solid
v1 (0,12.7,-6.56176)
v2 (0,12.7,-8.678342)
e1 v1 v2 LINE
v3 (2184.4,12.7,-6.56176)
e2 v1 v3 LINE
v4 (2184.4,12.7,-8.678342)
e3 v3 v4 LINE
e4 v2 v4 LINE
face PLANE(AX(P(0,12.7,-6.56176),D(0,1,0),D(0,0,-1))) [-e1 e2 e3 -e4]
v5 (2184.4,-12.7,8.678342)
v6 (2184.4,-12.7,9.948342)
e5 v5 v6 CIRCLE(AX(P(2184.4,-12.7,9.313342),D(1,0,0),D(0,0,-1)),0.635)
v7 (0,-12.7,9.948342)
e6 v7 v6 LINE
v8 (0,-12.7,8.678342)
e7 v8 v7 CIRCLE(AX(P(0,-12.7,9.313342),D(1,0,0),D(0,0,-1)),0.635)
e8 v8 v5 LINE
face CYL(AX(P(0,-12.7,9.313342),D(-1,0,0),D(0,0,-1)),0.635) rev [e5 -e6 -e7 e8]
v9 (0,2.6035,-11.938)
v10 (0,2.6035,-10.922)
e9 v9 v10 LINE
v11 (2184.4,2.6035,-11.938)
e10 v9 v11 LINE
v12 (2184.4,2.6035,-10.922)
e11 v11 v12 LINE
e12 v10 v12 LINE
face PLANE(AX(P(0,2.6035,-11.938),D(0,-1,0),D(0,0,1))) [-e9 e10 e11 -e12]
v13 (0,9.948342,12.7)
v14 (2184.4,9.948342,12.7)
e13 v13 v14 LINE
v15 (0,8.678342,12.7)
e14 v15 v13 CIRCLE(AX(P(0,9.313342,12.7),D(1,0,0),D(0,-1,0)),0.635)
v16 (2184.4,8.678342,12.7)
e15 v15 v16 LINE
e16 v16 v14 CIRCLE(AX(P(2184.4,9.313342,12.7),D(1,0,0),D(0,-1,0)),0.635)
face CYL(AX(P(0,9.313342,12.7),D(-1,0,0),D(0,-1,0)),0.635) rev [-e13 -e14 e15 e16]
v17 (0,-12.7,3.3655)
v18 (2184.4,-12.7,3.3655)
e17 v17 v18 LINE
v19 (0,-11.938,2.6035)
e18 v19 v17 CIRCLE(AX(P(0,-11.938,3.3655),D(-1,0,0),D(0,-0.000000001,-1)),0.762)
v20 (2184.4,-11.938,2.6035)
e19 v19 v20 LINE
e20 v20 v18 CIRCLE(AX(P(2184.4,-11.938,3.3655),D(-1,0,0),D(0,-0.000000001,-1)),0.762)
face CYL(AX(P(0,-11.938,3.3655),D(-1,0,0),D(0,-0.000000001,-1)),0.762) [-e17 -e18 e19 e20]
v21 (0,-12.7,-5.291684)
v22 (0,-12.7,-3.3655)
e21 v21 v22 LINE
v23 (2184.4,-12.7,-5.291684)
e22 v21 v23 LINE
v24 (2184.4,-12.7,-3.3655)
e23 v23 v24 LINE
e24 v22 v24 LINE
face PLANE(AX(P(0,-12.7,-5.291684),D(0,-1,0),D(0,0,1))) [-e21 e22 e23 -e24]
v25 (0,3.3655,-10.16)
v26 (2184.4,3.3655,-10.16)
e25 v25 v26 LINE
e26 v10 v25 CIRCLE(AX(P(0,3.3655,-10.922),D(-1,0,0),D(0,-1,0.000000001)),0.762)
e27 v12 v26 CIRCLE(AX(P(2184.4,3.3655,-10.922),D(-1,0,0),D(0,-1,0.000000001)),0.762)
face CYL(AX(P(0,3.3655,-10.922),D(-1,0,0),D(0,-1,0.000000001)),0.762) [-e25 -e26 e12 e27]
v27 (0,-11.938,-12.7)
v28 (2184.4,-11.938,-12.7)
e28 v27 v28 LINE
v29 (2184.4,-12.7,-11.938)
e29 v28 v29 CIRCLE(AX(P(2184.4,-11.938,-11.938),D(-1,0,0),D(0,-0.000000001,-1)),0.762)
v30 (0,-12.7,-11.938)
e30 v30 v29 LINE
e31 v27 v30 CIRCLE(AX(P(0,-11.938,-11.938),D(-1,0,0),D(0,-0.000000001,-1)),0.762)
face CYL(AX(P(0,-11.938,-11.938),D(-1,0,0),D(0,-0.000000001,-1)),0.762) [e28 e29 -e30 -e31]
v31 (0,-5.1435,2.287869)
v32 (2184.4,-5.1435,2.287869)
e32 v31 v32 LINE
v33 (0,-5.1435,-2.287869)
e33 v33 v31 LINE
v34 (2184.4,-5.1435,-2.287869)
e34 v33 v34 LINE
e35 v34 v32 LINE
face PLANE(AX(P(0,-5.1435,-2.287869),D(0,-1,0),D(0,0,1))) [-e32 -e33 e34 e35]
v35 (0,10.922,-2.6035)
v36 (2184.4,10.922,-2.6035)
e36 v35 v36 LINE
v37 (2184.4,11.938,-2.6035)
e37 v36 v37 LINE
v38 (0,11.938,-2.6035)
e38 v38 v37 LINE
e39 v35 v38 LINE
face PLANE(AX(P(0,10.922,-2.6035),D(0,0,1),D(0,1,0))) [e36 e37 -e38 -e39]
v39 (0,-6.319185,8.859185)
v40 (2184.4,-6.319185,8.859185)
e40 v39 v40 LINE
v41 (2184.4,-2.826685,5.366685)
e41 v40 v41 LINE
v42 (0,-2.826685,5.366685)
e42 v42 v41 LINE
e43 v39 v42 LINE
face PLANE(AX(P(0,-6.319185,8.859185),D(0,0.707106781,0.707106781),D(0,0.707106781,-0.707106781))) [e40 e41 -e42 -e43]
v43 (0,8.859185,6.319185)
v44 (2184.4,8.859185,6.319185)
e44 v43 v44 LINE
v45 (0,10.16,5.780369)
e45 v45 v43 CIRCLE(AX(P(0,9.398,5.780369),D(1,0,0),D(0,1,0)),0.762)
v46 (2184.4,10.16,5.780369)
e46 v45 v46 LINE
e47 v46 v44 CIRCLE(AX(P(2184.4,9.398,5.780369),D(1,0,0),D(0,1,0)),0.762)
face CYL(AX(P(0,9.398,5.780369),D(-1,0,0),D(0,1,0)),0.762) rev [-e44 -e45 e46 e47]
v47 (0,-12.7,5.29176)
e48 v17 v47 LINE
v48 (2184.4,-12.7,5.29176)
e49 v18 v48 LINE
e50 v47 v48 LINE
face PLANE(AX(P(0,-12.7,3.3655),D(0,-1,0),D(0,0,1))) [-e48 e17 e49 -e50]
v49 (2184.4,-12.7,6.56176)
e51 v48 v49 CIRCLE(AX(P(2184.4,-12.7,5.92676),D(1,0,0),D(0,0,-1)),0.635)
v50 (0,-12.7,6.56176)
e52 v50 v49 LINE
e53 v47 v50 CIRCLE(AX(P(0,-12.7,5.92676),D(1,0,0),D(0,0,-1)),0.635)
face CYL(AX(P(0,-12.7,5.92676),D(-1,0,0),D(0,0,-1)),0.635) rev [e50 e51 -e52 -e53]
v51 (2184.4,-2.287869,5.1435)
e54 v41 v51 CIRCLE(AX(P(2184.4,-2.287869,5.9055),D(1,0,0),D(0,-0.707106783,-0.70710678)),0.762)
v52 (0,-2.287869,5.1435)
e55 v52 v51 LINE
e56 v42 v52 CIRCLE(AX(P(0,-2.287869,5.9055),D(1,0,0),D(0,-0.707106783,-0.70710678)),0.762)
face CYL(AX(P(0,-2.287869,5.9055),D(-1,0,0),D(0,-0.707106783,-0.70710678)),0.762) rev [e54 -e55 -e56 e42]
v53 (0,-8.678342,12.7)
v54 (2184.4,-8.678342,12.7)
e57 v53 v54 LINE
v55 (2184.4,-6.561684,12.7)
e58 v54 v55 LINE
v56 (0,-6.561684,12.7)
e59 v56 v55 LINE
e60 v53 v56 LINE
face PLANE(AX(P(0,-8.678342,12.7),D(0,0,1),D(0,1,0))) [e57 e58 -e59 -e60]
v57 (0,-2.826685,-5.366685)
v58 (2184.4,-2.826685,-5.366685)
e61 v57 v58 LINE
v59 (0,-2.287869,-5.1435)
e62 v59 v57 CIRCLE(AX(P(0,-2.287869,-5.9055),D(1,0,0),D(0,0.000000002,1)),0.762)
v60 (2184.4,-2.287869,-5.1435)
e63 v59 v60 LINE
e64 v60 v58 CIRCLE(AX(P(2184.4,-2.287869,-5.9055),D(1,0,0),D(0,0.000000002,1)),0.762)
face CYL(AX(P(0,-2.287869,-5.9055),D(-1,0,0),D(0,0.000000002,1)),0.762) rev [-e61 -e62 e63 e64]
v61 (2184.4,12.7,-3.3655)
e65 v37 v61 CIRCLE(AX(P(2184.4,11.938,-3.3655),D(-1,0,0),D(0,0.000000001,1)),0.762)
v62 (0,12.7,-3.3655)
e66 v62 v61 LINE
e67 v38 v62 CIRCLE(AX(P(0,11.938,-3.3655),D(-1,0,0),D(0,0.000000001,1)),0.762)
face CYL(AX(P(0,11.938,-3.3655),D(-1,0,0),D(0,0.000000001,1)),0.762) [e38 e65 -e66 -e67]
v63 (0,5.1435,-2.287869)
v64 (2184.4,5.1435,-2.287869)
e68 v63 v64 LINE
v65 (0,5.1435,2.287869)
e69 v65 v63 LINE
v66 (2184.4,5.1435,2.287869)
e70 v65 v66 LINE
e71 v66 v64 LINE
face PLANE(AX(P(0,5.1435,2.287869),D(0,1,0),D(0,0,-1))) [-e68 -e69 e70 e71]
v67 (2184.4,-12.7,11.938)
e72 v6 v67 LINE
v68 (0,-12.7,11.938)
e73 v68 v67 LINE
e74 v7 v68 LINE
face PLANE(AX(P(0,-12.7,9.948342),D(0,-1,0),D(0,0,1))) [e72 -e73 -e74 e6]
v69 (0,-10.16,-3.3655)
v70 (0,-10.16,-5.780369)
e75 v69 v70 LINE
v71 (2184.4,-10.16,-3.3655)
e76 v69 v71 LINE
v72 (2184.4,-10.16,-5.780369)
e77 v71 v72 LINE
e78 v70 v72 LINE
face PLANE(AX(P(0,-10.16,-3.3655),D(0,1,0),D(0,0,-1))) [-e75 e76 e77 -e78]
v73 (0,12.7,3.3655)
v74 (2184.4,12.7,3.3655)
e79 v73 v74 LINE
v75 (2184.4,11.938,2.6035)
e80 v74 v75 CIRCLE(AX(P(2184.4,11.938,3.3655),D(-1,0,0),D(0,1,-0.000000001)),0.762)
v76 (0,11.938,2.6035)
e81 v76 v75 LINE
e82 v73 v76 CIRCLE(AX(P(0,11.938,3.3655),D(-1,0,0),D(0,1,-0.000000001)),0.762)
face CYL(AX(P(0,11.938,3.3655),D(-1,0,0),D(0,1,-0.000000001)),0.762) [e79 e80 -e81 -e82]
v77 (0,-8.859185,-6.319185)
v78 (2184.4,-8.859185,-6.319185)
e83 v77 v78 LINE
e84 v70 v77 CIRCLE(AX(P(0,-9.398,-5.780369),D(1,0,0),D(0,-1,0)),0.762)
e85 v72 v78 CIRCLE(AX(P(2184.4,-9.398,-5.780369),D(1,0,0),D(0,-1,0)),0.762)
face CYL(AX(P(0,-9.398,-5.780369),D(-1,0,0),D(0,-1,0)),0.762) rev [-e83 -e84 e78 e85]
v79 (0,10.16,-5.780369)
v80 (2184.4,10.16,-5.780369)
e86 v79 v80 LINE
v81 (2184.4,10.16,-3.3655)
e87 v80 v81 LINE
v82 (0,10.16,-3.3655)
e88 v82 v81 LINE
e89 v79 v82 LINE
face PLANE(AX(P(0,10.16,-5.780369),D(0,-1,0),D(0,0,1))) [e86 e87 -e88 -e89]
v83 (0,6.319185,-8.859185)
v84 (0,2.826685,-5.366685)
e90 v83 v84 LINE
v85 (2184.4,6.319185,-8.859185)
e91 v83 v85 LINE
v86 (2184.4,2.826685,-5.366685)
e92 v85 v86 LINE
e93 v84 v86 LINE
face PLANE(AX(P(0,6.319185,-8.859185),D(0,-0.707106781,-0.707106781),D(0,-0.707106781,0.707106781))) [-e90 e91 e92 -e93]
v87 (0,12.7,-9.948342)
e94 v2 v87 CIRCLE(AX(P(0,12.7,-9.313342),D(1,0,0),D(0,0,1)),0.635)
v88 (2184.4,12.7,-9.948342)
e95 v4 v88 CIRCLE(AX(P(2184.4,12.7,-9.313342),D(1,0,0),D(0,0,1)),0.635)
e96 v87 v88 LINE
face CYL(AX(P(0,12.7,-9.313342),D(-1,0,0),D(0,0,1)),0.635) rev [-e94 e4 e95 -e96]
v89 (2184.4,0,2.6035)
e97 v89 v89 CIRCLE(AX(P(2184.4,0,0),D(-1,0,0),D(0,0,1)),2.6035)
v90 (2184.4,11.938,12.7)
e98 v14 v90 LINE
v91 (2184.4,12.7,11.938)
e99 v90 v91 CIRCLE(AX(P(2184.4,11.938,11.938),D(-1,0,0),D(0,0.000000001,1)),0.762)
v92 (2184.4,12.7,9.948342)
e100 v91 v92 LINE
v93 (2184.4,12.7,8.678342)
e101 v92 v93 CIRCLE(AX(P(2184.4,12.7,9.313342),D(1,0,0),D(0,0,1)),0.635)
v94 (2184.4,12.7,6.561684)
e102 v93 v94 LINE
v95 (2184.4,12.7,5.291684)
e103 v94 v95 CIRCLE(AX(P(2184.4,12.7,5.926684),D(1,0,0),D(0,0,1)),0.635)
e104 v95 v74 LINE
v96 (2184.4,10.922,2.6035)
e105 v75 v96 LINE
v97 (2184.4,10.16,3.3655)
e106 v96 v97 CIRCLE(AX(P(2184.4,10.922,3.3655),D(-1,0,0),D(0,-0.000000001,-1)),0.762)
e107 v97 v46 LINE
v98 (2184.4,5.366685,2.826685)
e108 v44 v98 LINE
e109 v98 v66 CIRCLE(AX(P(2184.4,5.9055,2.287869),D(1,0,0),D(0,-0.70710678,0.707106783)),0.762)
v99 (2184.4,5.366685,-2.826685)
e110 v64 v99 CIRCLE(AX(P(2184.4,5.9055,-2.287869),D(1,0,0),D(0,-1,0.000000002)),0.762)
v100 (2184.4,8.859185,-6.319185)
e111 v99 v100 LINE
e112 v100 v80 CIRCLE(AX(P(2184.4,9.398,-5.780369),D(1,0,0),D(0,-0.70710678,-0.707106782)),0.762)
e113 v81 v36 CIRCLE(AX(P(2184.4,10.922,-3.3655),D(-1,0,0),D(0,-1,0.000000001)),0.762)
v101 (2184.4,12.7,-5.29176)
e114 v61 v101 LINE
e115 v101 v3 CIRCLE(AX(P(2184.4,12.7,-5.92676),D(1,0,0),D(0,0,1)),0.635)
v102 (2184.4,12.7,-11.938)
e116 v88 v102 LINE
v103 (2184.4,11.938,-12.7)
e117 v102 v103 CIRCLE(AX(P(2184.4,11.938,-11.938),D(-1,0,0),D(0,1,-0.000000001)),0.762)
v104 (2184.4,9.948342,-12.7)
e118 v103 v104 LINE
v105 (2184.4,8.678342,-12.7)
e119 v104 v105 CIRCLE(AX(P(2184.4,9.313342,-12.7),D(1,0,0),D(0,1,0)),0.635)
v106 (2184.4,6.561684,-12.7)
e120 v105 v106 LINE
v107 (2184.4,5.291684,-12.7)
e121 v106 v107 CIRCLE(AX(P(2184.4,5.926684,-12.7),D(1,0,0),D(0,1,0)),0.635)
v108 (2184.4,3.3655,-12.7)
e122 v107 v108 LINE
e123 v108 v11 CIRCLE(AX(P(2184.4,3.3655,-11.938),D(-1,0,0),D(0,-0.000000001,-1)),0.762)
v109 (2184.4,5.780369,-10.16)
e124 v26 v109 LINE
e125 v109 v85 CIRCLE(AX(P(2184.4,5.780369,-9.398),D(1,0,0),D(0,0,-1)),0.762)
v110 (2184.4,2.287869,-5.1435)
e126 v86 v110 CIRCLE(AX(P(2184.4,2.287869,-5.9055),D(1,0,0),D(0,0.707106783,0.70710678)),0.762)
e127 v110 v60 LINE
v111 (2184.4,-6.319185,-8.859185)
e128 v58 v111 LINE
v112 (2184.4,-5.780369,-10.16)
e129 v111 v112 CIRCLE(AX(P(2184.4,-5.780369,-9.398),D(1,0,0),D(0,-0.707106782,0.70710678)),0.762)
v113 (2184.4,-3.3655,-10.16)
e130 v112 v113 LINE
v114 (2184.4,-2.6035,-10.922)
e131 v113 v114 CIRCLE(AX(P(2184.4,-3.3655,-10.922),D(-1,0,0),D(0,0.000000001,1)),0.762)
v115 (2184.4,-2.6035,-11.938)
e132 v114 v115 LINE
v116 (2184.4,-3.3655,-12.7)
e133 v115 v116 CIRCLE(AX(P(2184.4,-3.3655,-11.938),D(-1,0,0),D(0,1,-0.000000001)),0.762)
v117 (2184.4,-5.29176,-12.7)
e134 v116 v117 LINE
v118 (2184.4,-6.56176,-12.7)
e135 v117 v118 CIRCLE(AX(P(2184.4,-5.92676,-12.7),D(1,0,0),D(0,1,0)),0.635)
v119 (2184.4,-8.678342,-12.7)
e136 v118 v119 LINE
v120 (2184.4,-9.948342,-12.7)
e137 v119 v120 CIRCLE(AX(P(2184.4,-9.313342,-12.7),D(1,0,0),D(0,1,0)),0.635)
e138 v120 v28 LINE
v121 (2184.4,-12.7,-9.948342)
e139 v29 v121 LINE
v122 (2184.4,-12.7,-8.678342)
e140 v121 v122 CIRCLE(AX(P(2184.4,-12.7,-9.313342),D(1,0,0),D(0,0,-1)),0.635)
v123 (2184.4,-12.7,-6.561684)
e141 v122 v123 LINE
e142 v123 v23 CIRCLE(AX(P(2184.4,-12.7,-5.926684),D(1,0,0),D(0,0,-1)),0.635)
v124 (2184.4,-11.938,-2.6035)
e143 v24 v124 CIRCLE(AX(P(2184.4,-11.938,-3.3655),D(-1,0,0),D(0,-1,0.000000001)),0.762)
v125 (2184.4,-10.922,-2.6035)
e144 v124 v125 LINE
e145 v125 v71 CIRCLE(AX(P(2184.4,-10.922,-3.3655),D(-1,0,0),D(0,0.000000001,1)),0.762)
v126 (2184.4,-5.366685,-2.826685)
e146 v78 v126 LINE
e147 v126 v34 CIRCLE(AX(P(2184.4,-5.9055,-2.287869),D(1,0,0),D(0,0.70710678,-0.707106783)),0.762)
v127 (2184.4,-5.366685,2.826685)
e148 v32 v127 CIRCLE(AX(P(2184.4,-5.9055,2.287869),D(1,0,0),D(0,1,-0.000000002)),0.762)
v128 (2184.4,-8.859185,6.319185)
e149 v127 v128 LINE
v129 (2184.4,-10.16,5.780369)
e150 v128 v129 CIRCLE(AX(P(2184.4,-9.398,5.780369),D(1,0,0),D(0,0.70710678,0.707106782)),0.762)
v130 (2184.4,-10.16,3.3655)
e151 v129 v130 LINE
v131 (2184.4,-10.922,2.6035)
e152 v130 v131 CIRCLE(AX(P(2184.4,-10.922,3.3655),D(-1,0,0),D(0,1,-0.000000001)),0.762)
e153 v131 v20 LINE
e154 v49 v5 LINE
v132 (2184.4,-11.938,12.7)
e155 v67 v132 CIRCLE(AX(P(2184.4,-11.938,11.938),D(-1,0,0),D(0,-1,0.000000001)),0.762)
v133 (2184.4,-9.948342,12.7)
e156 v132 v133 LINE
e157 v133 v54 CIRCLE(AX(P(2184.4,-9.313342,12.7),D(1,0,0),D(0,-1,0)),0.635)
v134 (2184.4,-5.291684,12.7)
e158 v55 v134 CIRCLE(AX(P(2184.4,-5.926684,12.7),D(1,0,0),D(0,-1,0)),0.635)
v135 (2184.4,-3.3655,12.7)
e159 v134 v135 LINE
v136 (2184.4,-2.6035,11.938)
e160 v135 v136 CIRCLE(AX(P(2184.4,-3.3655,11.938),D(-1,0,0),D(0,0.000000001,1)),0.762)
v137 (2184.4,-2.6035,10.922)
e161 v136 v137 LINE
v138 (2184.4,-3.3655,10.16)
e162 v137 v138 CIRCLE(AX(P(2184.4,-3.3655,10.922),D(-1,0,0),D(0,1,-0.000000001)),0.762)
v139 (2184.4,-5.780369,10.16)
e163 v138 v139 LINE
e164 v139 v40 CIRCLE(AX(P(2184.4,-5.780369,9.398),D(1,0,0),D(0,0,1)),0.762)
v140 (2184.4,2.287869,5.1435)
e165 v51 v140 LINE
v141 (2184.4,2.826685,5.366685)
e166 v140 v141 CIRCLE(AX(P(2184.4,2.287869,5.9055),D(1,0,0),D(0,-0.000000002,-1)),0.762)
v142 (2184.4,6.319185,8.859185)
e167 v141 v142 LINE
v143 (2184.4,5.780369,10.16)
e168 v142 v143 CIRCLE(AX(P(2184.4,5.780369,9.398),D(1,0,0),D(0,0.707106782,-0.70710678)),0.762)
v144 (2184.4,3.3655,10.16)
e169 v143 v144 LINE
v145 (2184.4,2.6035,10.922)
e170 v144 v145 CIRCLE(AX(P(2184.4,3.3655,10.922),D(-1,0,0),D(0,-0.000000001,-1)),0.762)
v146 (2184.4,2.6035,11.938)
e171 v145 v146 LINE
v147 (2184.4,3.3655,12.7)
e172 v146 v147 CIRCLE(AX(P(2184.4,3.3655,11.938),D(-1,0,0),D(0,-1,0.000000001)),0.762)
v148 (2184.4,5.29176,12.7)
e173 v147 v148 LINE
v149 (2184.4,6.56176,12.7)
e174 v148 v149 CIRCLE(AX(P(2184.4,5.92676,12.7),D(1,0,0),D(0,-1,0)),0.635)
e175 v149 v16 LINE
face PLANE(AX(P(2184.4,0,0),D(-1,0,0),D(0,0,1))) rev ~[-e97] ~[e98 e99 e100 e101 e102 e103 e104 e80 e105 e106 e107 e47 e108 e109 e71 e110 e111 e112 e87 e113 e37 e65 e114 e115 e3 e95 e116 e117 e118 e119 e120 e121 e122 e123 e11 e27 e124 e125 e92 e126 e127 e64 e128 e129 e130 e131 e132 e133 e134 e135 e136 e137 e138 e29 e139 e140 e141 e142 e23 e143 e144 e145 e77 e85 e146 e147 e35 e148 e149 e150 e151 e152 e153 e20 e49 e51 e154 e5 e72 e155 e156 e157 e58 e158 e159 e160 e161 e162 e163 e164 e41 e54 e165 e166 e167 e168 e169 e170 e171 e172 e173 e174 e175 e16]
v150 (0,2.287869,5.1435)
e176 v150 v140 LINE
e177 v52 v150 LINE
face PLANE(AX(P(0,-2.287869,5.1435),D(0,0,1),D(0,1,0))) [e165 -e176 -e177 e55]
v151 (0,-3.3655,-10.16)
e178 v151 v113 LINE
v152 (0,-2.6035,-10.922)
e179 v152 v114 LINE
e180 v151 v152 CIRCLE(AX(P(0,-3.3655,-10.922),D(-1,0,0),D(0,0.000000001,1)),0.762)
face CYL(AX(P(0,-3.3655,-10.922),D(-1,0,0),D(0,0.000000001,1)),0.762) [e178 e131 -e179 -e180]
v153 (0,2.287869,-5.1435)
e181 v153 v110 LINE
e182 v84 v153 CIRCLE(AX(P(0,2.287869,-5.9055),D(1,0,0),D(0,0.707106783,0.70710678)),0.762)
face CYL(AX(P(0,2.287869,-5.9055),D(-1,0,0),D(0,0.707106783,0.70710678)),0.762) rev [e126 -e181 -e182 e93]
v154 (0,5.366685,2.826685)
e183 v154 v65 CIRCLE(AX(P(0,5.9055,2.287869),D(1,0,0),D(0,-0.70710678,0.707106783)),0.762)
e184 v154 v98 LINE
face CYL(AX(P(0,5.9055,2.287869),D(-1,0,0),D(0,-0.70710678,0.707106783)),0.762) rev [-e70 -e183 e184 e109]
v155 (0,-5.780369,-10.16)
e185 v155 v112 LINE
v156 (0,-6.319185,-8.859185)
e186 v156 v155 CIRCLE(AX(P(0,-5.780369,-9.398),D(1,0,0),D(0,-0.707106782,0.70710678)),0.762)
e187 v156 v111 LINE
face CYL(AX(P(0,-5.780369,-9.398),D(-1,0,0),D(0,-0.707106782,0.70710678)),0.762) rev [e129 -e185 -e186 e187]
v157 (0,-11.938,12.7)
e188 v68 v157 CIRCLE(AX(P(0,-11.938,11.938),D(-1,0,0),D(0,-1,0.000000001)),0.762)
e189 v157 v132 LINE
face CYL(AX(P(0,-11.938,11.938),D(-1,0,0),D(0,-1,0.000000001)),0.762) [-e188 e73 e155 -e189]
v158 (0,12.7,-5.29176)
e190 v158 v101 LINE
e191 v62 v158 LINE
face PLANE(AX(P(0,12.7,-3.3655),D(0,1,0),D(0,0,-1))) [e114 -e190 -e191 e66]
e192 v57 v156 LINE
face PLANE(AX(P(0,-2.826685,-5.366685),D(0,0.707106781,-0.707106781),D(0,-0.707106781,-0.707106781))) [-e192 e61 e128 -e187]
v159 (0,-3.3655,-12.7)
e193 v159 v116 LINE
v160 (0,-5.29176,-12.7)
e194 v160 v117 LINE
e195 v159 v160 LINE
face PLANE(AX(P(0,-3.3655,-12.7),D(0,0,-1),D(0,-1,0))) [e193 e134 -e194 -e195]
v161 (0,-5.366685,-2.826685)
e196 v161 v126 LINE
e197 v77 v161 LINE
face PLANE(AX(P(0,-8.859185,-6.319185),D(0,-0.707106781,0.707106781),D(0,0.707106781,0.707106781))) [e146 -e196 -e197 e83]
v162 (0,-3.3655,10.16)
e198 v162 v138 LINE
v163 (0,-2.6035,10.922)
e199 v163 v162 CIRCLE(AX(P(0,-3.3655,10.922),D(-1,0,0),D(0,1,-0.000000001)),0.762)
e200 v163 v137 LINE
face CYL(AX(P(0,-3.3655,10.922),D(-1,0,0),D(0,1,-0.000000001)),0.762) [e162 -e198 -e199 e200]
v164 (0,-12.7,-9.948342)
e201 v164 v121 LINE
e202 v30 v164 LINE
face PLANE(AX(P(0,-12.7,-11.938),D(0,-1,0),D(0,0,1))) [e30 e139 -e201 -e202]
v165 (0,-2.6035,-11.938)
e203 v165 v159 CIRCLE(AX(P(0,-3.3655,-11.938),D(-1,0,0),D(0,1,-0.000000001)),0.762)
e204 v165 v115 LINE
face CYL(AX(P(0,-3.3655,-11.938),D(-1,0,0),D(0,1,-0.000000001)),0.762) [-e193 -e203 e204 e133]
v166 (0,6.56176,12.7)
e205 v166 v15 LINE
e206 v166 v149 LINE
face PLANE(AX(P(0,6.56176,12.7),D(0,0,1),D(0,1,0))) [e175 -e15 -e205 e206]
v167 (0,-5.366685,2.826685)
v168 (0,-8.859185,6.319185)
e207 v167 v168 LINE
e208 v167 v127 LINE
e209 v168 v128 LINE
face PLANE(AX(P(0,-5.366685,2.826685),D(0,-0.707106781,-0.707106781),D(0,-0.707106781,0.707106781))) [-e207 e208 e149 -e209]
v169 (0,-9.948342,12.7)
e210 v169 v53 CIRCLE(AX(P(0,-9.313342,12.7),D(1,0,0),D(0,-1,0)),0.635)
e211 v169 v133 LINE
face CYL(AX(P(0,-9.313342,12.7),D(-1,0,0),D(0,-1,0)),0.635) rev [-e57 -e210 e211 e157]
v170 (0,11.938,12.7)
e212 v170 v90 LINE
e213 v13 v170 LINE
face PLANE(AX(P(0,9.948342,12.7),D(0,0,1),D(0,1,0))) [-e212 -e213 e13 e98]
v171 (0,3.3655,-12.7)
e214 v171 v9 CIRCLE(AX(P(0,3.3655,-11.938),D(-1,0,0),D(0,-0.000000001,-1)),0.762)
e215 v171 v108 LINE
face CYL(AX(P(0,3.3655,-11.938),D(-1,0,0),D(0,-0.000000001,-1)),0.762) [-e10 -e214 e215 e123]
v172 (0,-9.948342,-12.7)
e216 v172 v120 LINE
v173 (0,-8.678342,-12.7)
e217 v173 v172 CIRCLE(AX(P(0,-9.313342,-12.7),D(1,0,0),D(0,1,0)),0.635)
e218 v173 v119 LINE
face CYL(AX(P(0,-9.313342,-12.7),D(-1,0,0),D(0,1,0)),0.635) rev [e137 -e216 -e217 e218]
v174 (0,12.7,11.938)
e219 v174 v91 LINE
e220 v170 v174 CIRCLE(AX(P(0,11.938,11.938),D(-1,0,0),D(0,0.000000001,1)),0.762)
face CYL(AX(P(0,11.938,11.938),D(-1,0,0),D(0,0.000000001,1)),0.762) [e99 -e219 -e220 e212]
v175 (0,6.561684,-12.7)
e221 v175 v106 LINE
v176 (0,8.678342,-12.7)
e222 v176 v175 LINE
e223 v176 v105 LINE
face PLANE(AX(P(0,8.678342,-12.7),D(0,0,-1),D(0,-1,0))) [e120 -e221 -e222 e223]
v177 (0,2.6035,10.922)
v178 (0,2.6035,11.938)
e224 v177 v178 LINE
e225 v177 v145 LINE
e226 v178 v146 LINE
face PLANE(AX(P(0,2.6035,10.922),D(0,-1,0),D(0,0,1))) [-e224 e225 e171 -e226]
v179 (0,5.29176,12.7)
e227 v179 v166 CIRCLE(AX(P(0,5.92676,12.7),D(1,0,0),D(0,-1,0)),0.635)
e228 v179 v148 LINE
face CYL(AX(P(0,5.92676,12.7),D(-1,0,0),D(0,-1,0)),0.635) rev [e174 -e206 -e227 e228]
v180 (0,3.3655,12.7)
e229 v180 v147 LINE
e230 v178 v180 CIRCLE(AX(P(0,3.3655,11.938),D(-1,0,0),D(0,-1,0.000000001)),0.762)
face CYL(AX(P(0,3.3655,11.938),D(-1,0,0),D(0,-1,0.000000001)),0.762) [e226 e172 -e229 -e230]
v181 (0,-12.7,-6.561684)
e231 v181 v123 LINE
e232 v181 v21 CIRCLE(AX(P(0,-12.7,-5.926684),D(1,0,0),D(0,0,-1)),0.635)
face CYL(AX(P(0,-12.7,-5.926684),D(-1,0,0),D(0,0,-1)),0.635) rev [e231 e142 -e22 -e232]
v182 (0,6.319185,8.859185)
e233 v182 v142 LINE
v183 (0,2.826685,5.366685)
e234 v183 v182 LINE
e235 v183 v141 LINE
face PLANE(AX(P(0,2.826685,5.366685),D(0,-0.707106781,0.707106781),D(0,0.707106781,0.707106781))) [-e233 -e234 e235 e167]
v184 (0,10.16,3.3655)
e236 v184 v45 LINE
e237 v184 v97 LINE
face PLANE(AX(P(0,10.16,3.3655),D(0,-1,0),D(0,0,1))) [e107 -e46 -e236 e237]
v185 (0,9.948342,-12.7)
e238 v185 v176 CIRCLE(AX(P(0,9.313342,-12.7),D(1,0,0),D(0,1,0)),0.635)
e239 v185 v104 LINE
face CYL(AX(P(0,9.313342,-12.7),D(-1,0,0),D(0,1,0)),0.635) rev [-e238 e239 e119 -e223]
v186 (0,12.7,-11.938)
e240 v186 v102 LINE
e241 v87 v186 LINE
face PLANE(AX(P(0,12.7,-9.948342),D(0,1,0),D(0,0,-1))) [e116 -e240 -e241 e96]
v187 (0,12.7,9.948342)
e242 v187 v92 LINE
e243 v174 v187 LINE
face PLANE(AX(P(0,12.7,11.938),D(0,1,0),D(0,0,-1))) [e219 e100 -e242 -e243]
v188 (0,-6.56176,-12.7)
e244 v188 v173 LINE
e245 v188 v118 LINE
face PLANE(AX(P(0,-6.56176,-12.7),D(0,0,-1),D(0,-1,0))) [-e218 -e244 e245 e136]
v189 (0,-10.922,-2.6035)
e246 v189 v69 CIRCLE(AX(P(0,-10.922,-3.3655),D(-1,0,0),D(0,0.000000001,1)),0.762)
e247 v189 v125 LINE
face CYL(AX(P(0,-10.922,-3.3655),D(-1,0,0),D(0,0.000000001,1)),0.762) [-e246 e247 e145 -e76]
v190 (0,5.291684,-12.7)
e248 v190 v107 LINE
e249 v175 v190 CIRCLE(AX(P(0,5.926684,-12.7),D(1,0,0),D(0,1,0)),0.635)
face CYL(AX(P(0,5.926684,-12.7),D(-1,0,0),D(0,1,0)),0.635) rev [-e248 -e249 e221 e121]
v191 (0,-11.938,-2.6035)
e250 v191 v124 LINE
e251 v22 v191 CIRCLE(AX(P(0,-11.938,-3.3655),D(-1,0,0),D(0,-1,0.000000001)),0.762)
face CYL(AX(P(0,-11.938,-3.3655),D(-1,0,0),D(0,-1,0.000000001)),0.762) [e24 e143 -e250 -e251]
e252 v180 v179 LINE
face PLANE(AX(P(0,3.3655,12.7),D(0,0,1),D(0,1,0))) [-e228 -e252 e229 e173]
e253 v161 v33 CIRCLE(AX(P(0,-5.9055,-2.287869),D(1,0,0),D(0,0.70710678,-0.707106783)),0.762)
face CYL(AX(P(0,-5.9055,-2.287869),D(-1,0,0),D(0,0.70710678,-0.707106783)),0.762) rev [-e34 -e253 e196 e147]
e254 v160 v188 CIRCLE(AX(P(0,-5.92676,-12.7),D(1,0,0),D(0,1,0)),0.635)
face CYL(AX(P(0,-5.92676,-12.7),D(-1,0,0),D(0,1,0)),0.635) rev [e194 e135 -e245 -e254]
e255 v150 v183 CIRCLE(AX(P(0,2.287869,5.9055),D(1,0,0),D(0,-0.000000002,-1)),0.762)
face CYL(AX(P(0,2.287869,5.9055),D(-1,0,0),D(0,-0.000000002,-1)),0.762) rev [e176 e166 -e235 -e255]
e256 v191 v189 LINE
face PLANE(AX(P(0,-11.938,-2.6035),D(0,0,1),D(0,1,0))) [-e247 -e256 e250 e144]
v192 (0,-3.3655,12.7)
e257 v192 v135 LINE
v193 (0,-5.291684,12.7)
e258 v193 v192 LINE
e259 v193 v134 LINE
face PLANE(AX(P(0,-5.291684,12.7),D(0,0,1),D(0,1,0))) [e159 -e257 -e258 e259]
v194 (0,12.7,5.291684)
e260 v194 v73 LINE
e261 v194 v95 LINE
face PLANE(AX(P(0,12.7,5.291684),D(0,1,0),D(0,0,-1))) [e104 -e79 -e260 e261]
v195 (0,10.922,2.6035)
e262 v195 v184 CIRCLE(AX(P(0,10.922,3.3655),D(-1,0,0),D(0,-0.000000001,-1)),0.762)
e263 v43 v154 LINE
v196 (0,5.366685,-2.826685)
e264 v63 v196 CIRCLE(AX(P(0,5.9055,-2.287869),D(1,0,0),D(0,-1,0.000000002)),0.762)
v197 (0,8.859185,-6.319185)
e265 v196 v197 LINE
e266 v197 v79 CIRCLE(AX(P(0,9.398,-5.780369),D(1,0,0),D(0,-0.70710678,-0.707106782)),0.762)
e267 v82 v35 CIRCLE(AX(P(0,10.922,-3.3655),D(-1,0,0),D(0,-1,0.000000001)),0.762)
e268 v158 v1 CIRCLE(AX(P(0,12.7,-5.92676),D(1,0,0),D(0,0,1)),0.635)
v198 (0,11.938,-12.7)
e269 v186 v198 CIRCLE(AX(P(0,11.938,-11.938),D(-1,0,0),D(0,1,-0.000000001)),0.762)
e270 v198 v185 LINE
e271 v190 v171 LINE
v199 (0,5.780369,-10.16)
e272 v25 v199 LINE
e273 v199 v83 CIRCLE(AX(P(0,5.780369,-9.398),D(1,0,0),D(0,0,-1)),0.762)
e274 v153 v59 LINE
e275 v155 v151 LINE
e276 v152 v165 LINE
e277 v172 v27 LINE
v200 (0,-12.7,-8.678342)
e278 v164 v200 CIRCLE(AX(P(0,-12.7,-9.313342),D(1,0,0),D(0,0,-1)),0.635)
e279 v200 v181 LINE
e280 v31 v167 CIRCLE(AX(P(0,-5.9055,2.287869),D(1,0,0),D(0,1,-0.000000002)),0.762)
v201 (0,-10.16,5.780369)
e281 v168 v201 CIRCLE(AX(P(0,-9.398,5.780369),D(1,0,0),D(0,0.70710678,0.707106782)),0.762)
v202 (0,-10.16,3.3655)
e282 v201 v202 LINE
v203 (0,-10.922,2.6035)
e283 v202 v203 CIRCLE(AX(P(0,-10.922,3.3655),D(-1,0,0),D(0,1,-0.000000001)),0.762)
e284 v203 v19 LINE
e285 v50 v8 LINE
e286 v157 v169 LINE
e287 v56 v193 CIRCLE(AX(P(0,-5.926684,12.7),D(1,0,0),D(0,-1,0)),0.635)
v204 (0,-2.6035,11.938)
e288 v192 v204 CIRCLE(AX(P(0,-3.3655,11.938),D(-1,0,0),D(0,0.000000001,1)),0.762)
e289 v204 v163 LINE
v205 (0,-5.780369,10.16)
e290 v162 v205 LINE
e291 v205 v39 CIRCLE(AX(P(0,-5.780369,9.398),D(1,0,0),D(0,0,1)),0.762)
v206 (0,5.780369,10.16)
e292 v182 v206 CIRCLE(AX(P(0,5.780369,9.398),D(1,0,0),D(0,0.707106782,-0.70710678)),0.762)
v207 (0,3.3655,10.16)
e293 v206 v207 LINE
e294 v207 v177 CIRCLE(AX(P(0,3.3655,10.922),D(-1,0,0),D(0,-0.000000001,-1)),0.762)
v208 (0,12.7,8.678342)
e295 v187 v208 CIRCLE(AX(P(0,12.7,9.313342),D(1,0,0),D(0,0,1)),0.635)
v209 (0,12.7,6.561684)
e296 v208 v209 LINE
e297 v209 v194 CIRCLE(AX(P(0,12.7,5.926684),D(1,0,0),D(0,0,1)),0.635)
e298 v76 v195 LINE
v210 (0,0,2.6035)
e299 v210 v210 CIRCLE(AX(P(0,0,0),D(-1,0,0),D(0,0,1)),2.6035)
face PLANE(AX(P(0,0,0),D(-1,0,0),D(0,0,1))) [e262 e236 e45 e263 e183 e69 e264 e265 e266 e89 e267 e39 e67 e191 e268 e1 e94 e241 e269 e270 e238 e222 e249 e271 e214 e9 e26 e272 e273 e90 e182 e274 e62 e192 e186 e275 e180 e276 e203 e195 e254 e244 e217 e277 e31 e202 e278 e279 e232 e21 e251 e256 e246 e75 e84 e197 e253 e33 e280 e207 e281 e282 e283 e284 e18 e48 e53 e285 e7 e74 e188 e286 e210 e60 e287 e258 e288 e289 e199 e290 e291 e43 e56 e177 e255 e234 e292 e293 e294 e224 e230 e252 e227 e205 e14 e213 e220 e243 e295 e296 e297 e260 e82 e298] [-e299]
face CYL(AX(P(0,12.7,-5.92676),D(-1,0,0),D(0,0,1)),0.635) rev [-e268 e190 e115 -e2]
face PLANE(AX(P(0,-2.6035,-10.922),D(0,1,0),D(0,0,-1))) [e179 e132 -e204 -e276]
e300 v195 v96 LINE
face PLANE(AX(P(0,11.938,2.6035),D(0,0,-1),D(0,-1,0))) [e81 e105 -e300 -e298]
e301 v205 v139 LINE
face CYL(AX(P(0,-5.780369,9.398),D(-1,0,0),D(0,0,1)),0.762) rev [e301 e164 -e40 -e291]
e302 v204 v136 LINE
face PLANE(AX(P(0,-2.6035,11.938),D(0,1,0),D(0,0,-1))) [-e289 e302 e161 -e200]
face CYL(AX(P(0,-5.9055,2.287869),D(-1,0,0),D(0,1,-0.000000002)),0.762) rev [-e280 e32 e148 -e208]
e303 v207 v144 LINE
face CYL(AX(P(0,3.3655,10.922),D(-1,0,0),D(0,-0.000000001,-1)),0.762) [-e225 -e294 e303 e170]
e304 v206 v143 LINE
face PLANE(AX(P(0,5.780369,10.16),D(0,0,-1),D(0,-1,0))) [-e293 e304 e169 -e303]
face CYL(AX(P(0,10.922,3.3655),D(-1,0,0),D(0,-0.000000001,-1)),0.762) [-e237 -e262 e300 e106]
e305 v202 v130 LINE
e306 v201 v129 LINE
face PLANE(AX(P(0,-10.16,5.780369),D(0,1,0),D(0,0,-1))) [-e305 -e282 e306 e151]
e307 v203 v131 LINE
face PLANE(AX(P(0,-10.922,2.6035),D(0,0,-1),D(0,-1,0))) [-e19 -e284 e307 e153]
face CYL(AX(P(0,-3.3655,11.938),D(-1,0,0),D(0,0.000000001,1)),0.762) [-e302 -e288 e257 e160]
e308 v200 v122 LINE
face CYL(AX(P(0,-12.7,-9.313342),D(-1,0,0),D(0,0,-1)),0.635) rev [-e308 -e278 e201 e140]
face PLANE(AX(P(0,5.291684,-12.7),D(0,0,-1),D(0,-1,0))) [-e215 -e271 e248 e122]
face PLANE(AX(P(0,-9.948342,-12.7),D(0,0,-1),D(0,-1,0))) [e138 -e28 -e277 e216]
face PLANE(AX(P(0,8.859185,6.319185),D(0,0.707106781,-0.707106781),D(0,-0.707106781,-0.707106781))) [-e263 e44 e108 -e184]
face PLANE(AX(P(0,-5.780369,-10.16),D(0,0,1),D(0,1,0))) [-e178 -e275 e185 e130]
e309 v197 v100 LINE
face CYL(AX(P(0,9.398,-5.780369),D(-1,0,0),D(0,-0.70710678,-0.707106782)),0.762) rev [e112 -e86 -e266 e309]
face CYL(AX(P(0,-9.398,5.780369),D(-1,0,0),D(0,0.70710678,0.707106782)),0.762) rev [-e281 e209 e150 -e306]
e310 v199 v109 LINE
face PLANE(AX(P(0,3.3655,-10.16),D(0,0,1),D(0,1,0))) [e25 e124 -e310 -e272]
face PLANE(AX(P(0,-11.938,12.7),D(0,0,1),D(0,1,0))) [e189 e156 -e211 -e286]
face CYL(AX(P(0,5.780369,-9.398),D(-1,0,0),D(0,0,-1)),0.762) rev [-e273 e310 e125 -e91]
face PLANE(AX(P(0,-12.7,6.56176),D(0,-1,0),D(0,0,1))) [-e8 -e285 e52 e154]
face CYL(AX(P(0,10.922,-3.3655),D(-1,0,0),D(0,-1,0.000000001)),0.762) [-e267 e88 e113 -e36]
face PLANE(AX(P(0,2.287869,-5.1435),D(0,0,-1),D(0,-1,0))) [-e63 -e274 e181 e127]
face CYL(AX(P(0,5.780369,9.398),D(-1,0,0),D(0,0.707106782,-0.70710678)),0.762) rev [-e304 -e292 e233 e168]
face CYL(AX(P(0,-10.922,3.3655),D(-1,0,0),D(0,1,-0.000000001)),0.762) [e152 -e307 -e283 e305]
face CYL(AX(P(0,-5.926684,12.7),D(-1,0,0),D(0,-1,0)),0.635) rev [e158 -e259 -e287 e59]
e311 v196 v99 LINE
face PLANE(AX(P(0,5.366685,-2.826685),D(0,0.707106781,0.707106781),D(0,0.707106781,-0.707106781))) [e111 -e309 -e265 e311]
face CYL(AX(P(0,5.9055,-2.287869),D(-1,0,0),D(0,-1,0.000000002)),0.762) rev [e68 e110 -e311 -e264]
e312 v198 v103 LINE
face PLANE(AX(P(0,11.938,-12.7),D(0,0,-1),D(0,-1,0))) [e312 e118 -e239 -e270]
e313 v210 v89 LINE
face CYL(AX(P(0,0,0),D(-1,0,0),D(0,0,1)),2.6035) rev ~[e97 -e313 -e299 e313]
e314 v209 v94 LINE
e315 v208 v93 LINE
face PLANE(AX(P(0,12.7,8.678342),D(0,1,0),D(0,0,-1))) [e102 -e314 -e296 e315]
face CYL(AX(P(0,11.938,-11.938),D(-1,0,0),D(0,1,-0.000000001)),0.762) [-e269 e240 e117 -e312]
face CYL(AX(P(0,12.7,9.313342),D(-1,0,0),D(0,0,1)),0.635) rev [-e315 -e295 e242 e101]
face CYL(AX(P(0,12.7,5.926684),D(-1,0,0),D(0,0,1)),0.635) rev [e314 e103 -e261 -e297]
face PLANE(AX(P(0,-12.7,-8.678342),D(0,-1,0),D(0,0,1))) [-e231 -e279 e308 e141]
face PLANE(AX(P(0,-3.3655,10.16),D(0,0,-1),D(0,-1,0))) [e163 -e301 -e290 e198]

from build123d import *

# Parameters (mm, degrees)
BOSS_EXTRUDE1_DEPTH = 2184.4
SKETCH2_R           = 2.6035
CUT_EXTRUDE1_DEPTH  = 2184.4


with BuildPart() as part:
    # Sketch1 → Boss-Extrude1 (new body)
    with BuildSketch(Plane(origin=(0, 0, 0), x_dir=(0, 0, -1), z_dir=(1, 0, 0))):
        with BuildLine():
            Line((-2.6035, 11.938), (-2.6035, 10.922))
            ThreePointArc((-2.6035, 10.922), (-2.826684633, 10.383184633), (-3.3655, 10.16))
            Line((-3.3655, 10.16), (-5.780369265, 10.16))
            ThreePointArc((-5.780369265, 10.16), (-6.484365469, 9.689604775), (-6.319184633, 8.859184633))
            Line((-6.319184633, 8.859184633), (-2.826684633, 5.366684633))
            ThreePointArc((-2.826684633, 5.366684633), (-2.579474041, 5.201503796), (-2.287869265, 5.1435))
            Line((-2.287869265, 5.1435), (2.287869265, 5.1435))
            ThreePointArc((2.287869265, 5.1435), (2.579474041, 5.201503796), (2.826684633, 5.366684633))
            Line((2.826684633, 5.366684633), (6.319184633, 8.859184633))
            ThreePointArc((6.319184633, 8.859184633), (6.484365469, 9.689604775), (5.780369265, 10.16))
            Line((5.780369265, 10.16), (3.3655, 10.16))
            ThreePointArc((3.3655, 10.16), (2.826684633, 10.383184633), (2.6035, 10.922))
            Line((2.6035, 10.922), (2.6035, 11.938))
            ThreePointArc((2.6035, 11.938), (2.826684633, 12.476815367), (3.3655, 12.7))
            Line((3.3655, 12.7), (5.2917598, 12.7))
            ThreePointArc((5.2917598, 12.7), (5.9267598, 12.065), (6.5617598, 12.7))
            Line((6.5617598, 12.7), (8.6783418, 12.7))
            ThreePointArc((8.6783418, 12.7), (9.3133418, 12.065), (9.9483418, 12.7))
            Line((9.9483418, 12.7), (11.938, 12.7))
            ThreePointArc((11.938, 12.7), (12.476815367, 12.476815367), (12.7, 11.938))
            Line((12.7, 11.938), (12.7, 9.9483418))
            ThreePointArc((12.7, 9.9483418), (12.065, 9.3133418), (12.7, 8.6783418))
            Line((12.7, 8.6783418), (12.7, 6.5616836))
            ThreePointArc((12.7, 6.5616836), (12.065, 5.9266836), (12.7, 5.2916836))
            Line((12.7, 5.2916836), (12.7, 3.3655))
            ThreePointArc((12.7, 3.3655), (12.476815367, 2.826684633), (11.938, 2.6035))
            Line((11.938, 2.6035), (10.922, 2.6035))
            ThreePointArc((10.922, 2.6035), (10.383184633, 2.826684633), (10.16, 3.3655))
            Line((10.16, 3.3655), (10.16, 5.780369265))
            ThreePointArc((10.16, 5.780369265), (9.689604775, 6.484365469), (8.859184633, 6.319184633))
            Line((8.859184633, 6.319184633), (5.366684633, 2.826684633))
            ThreePointArc((5.366684633, 2.826684633), (5.201503796, 2.579474041), (5.1435, 2.287869265))
            Line((5.1435, 2.287869265), (5.1435, -2.287869265))
            ThreePointArc((5.1435, -2.287869265), (5.201503796, -2.579474041), (5.366684633, -2.826684633))
            Line((5.366684633, -2.826684633), (8.859184633, -6.319184633))
            ThreePointArc((8.859184633, -6.319184633), (9.689604775, -6.484365469), (10.16, -5.780369265))
            Line((10.16, -5.780369265), (10.16, -3.3655))
            ThreePointArc((10.16, -3.3655), (10.383184633, -2.826684633), (10.922, -2.6035))
            Line((10.922, -2.6035), (11.938, -2.6035))
            ThreePointArc((11.938, -2.6035), (12.476815367, -2.826684633), (12.7, -3.3655))
            Line((12.7, -3.3655), (12.7, -5.2917598))
            ThreePointArc((12.7, -5.2917598), (12.065, -5.9267598), (12.7, -6.5617598))
            Line((12.7, -6.5617598), (12.7, -8.6783418))
            ThreePointArc((12.7, -8.6783418), (12.065, -9.3133418), (12.7, -9.9483418))
            Line((12.7, -9.9483418), (12.7, -11.938))
            ThreePointArc((12.7, -11.938), (12.476815367, -12.476815367), (11.938, -12.7))
            Line((11.938, -12.7), (9.9483418, -12.7))
            ThreePointArc((9.9483418, -12.7), (9.3133418, -12.065), (8.6783418, -12.7))
            Line((8.6783418, -12.7), (6.5616836, -12.7))
            ThreePointArc((6.5616836, -12.7), (5.9266836, -12.065), (5.2916836, -12.7))
            Line((5.2916836, -12.7), (3.3655, -12.7))
            ThreePointArc((3.3655, -12.7), (2.826684633, -12.476815367), (2.6035, -11.938))
            Line((2.6035, -11.938), (2.6035, -10.922))
            ThreePointArc((2.6035, -10.922), (2.826684633, -10.383184633), (3.3655, -10.16))
            Line((3.3655, -10.16), (5.780369265, -10.16))
            ThreePointArc((5.780369265, -10.16), (6.484365469, -9.689604775), (6.319184633, -8.859184633))
            Line((6.319184633, -8.859184633), (2.826684633, -5.366684633))
            ThreePointArc((2.826684633, -5.366684633), (2.579474041, -5.201503796), (2.287869265, -5.1435))
            Line((2.287869265, -5.1435), (-2.287869265, -5.1435))
            ThreePointArc((-2.287869265, -5.1435), (-2.579474041, -5.201503796), (-2.826684633, -5.366684633))
            Line((-2.826684633, -5.366684633), (-6.319184633, -8.859184633))
            ThreePointArc((-6.319184633, -8.859184633), (-6.484365469, -9.689604775), (-5.780369265, -10.16))
            Line((-5.780369265, -10.16), (-3.3655, -10.16))
            ThreePointArc((-3.3655, -10.16), (-2.826684633, -10.383184633), (-2.6035, -10.922))
            Line((-2.6035, -10.922), (-2.6035, -11.938))
            ThreePointArc((-2.6035, -11.938), (-2.826684633, -12.476815367), (-3.3655, -12.7))
            Line((-3.3655, -12.7), (-5.2917598, -12.7))
            ThreePointArc((-5.2917598, -12.7), (-5.9267598, -12.065), (-6.5617598, -12.7))
            Line((-6.5617598, -12.7), (-8.6783418, -12.7))
            ThreePointArc((-8.6783418, -12.7), (-9.3133418, -12.065), (-9.9483418, -12.7))
            Line((-9.9483418, -12.7), (-11.938, -12.7))
            ThreePointArc((-11.938, -12.7), (-12.476815367, -12.476815367), (-12.7, -11.938))
            Line((-12.7, -11.938), (-12.7, -9.9483418))
            ThreePointArc((-12.7, -9.9483418), (-12.065, -9.3133418), (-12.7, -8.6783418))
            Line((-12.7, -8.6783418), (-12.7, -6.5616836))
            ThreePointArc((-12.7, -6.5616836), (-12.065, -5.9266836), (-12.7, -5.2916836))
            Line((-12.7, -5.2916836), (-12.7, -3.3655))
            ThreePointArc((-12.7, -3.3655), (-12.476815367, -2.826684633), (-11.938, -2.6035))
            Line((-11.938, -2.6035), (-10.922, -2.6035))
            ThreePointArc((-10.922, -2.6035), (-10.383184633, -2.826684633), (-10.16, -3.3655))
            Line((-10.16, -3.3655), (-10.16, -5.780369265))
            ThreePointArc((-10.16, -5.780369265), (-9.689604775, -6.484365469), (-8.859184633, -6.319184633))
            Line((-8.859184633, -6.319184633), (-5.366684633, -2.826684633))
            ThreePointArc((-5.366684633, -2.826684633), (-5.201503796, -2.579474041), (-5.1435, -2.287869265))
            Line((-5.1435, -2.287869265), (-5.1435, 2.287869265))
            ThreePointArc((-5.1435, 2.287869265), (-5.201503796, 2.579474041), (-5.366684633, 2.826684633))
            Line((-5.366684633, 2.826684633), (-8.859184633, 6.319184633))
            ThreePointArc((-8.859184633, 6.319184633), (-9.689604775, 6.484365469), (-10.16, 5.780369265))
            Line((-10.16, 5.780369265), (-10.16, 3.3655))
            ThreePointArc((-10.16, 3.3655), (-10.383184633, 2.826684633), (-10.922, 2.6035))
            Line((-10.922, 2.6035), (-11.938, 2.6035))
            ThreePointArc((-11.938, 2.6035), (-12.476815367, 2.826684633), (-12.7, 3.3655))
            Line((-12.7, 3.3655), (-12.7, 5.2917598))
            ThreePointArc((-12.7, 5.2917598), (-12.065, 5.9267598), (-12.7, 6.5617598))
            Line((-12.7, 6.5617598), (-12.7, 8.6783418))
            ThreePointArc((-12.7, 8.6783418), (-12.065, 9.3133418), (-12.7, 9.9483418))
            Line((-12.7, 9.9483418), (-12.7, 11.938))
            ThreePointArc((-12.7, 11.938), (-12.476815367, 12.476815367), (-11.938, 12.7))
            Line((-11.938, 12.7), (-9.9483418, 12.7))
            ThreePointArc((-9.9483418, 12.7), (-9.3133418, 12.065), (-8.6783418, 12.7))
            Line((-8.6783418, 12.7), (-6.5616836, 12.7))
            ThreePointArc((-6.5616836, 12.7), (-5.9266836, 12.065), (-5.2916836, 12.7))
            Line((-5.2916836, 12.7), (-3.3655, 12.7))
            ThreePointArc((-3.3655, 12.7), (-2.826684633, 12.476815367), (-2.6035, 11.938))
        make_face()
    extrude(amount=BOSS_EXTRUDE1_DEPTH)

    # Sketch2 → Cut-Extrude1 (cut)
    with BuildSketch(Plane.ZY):
        Circle(SKETCH2_R)
    extrude(amount=-CUT_EXTRUDE1_DEPTH, mode=Mode.SUBTRACT)


solid = part.part
